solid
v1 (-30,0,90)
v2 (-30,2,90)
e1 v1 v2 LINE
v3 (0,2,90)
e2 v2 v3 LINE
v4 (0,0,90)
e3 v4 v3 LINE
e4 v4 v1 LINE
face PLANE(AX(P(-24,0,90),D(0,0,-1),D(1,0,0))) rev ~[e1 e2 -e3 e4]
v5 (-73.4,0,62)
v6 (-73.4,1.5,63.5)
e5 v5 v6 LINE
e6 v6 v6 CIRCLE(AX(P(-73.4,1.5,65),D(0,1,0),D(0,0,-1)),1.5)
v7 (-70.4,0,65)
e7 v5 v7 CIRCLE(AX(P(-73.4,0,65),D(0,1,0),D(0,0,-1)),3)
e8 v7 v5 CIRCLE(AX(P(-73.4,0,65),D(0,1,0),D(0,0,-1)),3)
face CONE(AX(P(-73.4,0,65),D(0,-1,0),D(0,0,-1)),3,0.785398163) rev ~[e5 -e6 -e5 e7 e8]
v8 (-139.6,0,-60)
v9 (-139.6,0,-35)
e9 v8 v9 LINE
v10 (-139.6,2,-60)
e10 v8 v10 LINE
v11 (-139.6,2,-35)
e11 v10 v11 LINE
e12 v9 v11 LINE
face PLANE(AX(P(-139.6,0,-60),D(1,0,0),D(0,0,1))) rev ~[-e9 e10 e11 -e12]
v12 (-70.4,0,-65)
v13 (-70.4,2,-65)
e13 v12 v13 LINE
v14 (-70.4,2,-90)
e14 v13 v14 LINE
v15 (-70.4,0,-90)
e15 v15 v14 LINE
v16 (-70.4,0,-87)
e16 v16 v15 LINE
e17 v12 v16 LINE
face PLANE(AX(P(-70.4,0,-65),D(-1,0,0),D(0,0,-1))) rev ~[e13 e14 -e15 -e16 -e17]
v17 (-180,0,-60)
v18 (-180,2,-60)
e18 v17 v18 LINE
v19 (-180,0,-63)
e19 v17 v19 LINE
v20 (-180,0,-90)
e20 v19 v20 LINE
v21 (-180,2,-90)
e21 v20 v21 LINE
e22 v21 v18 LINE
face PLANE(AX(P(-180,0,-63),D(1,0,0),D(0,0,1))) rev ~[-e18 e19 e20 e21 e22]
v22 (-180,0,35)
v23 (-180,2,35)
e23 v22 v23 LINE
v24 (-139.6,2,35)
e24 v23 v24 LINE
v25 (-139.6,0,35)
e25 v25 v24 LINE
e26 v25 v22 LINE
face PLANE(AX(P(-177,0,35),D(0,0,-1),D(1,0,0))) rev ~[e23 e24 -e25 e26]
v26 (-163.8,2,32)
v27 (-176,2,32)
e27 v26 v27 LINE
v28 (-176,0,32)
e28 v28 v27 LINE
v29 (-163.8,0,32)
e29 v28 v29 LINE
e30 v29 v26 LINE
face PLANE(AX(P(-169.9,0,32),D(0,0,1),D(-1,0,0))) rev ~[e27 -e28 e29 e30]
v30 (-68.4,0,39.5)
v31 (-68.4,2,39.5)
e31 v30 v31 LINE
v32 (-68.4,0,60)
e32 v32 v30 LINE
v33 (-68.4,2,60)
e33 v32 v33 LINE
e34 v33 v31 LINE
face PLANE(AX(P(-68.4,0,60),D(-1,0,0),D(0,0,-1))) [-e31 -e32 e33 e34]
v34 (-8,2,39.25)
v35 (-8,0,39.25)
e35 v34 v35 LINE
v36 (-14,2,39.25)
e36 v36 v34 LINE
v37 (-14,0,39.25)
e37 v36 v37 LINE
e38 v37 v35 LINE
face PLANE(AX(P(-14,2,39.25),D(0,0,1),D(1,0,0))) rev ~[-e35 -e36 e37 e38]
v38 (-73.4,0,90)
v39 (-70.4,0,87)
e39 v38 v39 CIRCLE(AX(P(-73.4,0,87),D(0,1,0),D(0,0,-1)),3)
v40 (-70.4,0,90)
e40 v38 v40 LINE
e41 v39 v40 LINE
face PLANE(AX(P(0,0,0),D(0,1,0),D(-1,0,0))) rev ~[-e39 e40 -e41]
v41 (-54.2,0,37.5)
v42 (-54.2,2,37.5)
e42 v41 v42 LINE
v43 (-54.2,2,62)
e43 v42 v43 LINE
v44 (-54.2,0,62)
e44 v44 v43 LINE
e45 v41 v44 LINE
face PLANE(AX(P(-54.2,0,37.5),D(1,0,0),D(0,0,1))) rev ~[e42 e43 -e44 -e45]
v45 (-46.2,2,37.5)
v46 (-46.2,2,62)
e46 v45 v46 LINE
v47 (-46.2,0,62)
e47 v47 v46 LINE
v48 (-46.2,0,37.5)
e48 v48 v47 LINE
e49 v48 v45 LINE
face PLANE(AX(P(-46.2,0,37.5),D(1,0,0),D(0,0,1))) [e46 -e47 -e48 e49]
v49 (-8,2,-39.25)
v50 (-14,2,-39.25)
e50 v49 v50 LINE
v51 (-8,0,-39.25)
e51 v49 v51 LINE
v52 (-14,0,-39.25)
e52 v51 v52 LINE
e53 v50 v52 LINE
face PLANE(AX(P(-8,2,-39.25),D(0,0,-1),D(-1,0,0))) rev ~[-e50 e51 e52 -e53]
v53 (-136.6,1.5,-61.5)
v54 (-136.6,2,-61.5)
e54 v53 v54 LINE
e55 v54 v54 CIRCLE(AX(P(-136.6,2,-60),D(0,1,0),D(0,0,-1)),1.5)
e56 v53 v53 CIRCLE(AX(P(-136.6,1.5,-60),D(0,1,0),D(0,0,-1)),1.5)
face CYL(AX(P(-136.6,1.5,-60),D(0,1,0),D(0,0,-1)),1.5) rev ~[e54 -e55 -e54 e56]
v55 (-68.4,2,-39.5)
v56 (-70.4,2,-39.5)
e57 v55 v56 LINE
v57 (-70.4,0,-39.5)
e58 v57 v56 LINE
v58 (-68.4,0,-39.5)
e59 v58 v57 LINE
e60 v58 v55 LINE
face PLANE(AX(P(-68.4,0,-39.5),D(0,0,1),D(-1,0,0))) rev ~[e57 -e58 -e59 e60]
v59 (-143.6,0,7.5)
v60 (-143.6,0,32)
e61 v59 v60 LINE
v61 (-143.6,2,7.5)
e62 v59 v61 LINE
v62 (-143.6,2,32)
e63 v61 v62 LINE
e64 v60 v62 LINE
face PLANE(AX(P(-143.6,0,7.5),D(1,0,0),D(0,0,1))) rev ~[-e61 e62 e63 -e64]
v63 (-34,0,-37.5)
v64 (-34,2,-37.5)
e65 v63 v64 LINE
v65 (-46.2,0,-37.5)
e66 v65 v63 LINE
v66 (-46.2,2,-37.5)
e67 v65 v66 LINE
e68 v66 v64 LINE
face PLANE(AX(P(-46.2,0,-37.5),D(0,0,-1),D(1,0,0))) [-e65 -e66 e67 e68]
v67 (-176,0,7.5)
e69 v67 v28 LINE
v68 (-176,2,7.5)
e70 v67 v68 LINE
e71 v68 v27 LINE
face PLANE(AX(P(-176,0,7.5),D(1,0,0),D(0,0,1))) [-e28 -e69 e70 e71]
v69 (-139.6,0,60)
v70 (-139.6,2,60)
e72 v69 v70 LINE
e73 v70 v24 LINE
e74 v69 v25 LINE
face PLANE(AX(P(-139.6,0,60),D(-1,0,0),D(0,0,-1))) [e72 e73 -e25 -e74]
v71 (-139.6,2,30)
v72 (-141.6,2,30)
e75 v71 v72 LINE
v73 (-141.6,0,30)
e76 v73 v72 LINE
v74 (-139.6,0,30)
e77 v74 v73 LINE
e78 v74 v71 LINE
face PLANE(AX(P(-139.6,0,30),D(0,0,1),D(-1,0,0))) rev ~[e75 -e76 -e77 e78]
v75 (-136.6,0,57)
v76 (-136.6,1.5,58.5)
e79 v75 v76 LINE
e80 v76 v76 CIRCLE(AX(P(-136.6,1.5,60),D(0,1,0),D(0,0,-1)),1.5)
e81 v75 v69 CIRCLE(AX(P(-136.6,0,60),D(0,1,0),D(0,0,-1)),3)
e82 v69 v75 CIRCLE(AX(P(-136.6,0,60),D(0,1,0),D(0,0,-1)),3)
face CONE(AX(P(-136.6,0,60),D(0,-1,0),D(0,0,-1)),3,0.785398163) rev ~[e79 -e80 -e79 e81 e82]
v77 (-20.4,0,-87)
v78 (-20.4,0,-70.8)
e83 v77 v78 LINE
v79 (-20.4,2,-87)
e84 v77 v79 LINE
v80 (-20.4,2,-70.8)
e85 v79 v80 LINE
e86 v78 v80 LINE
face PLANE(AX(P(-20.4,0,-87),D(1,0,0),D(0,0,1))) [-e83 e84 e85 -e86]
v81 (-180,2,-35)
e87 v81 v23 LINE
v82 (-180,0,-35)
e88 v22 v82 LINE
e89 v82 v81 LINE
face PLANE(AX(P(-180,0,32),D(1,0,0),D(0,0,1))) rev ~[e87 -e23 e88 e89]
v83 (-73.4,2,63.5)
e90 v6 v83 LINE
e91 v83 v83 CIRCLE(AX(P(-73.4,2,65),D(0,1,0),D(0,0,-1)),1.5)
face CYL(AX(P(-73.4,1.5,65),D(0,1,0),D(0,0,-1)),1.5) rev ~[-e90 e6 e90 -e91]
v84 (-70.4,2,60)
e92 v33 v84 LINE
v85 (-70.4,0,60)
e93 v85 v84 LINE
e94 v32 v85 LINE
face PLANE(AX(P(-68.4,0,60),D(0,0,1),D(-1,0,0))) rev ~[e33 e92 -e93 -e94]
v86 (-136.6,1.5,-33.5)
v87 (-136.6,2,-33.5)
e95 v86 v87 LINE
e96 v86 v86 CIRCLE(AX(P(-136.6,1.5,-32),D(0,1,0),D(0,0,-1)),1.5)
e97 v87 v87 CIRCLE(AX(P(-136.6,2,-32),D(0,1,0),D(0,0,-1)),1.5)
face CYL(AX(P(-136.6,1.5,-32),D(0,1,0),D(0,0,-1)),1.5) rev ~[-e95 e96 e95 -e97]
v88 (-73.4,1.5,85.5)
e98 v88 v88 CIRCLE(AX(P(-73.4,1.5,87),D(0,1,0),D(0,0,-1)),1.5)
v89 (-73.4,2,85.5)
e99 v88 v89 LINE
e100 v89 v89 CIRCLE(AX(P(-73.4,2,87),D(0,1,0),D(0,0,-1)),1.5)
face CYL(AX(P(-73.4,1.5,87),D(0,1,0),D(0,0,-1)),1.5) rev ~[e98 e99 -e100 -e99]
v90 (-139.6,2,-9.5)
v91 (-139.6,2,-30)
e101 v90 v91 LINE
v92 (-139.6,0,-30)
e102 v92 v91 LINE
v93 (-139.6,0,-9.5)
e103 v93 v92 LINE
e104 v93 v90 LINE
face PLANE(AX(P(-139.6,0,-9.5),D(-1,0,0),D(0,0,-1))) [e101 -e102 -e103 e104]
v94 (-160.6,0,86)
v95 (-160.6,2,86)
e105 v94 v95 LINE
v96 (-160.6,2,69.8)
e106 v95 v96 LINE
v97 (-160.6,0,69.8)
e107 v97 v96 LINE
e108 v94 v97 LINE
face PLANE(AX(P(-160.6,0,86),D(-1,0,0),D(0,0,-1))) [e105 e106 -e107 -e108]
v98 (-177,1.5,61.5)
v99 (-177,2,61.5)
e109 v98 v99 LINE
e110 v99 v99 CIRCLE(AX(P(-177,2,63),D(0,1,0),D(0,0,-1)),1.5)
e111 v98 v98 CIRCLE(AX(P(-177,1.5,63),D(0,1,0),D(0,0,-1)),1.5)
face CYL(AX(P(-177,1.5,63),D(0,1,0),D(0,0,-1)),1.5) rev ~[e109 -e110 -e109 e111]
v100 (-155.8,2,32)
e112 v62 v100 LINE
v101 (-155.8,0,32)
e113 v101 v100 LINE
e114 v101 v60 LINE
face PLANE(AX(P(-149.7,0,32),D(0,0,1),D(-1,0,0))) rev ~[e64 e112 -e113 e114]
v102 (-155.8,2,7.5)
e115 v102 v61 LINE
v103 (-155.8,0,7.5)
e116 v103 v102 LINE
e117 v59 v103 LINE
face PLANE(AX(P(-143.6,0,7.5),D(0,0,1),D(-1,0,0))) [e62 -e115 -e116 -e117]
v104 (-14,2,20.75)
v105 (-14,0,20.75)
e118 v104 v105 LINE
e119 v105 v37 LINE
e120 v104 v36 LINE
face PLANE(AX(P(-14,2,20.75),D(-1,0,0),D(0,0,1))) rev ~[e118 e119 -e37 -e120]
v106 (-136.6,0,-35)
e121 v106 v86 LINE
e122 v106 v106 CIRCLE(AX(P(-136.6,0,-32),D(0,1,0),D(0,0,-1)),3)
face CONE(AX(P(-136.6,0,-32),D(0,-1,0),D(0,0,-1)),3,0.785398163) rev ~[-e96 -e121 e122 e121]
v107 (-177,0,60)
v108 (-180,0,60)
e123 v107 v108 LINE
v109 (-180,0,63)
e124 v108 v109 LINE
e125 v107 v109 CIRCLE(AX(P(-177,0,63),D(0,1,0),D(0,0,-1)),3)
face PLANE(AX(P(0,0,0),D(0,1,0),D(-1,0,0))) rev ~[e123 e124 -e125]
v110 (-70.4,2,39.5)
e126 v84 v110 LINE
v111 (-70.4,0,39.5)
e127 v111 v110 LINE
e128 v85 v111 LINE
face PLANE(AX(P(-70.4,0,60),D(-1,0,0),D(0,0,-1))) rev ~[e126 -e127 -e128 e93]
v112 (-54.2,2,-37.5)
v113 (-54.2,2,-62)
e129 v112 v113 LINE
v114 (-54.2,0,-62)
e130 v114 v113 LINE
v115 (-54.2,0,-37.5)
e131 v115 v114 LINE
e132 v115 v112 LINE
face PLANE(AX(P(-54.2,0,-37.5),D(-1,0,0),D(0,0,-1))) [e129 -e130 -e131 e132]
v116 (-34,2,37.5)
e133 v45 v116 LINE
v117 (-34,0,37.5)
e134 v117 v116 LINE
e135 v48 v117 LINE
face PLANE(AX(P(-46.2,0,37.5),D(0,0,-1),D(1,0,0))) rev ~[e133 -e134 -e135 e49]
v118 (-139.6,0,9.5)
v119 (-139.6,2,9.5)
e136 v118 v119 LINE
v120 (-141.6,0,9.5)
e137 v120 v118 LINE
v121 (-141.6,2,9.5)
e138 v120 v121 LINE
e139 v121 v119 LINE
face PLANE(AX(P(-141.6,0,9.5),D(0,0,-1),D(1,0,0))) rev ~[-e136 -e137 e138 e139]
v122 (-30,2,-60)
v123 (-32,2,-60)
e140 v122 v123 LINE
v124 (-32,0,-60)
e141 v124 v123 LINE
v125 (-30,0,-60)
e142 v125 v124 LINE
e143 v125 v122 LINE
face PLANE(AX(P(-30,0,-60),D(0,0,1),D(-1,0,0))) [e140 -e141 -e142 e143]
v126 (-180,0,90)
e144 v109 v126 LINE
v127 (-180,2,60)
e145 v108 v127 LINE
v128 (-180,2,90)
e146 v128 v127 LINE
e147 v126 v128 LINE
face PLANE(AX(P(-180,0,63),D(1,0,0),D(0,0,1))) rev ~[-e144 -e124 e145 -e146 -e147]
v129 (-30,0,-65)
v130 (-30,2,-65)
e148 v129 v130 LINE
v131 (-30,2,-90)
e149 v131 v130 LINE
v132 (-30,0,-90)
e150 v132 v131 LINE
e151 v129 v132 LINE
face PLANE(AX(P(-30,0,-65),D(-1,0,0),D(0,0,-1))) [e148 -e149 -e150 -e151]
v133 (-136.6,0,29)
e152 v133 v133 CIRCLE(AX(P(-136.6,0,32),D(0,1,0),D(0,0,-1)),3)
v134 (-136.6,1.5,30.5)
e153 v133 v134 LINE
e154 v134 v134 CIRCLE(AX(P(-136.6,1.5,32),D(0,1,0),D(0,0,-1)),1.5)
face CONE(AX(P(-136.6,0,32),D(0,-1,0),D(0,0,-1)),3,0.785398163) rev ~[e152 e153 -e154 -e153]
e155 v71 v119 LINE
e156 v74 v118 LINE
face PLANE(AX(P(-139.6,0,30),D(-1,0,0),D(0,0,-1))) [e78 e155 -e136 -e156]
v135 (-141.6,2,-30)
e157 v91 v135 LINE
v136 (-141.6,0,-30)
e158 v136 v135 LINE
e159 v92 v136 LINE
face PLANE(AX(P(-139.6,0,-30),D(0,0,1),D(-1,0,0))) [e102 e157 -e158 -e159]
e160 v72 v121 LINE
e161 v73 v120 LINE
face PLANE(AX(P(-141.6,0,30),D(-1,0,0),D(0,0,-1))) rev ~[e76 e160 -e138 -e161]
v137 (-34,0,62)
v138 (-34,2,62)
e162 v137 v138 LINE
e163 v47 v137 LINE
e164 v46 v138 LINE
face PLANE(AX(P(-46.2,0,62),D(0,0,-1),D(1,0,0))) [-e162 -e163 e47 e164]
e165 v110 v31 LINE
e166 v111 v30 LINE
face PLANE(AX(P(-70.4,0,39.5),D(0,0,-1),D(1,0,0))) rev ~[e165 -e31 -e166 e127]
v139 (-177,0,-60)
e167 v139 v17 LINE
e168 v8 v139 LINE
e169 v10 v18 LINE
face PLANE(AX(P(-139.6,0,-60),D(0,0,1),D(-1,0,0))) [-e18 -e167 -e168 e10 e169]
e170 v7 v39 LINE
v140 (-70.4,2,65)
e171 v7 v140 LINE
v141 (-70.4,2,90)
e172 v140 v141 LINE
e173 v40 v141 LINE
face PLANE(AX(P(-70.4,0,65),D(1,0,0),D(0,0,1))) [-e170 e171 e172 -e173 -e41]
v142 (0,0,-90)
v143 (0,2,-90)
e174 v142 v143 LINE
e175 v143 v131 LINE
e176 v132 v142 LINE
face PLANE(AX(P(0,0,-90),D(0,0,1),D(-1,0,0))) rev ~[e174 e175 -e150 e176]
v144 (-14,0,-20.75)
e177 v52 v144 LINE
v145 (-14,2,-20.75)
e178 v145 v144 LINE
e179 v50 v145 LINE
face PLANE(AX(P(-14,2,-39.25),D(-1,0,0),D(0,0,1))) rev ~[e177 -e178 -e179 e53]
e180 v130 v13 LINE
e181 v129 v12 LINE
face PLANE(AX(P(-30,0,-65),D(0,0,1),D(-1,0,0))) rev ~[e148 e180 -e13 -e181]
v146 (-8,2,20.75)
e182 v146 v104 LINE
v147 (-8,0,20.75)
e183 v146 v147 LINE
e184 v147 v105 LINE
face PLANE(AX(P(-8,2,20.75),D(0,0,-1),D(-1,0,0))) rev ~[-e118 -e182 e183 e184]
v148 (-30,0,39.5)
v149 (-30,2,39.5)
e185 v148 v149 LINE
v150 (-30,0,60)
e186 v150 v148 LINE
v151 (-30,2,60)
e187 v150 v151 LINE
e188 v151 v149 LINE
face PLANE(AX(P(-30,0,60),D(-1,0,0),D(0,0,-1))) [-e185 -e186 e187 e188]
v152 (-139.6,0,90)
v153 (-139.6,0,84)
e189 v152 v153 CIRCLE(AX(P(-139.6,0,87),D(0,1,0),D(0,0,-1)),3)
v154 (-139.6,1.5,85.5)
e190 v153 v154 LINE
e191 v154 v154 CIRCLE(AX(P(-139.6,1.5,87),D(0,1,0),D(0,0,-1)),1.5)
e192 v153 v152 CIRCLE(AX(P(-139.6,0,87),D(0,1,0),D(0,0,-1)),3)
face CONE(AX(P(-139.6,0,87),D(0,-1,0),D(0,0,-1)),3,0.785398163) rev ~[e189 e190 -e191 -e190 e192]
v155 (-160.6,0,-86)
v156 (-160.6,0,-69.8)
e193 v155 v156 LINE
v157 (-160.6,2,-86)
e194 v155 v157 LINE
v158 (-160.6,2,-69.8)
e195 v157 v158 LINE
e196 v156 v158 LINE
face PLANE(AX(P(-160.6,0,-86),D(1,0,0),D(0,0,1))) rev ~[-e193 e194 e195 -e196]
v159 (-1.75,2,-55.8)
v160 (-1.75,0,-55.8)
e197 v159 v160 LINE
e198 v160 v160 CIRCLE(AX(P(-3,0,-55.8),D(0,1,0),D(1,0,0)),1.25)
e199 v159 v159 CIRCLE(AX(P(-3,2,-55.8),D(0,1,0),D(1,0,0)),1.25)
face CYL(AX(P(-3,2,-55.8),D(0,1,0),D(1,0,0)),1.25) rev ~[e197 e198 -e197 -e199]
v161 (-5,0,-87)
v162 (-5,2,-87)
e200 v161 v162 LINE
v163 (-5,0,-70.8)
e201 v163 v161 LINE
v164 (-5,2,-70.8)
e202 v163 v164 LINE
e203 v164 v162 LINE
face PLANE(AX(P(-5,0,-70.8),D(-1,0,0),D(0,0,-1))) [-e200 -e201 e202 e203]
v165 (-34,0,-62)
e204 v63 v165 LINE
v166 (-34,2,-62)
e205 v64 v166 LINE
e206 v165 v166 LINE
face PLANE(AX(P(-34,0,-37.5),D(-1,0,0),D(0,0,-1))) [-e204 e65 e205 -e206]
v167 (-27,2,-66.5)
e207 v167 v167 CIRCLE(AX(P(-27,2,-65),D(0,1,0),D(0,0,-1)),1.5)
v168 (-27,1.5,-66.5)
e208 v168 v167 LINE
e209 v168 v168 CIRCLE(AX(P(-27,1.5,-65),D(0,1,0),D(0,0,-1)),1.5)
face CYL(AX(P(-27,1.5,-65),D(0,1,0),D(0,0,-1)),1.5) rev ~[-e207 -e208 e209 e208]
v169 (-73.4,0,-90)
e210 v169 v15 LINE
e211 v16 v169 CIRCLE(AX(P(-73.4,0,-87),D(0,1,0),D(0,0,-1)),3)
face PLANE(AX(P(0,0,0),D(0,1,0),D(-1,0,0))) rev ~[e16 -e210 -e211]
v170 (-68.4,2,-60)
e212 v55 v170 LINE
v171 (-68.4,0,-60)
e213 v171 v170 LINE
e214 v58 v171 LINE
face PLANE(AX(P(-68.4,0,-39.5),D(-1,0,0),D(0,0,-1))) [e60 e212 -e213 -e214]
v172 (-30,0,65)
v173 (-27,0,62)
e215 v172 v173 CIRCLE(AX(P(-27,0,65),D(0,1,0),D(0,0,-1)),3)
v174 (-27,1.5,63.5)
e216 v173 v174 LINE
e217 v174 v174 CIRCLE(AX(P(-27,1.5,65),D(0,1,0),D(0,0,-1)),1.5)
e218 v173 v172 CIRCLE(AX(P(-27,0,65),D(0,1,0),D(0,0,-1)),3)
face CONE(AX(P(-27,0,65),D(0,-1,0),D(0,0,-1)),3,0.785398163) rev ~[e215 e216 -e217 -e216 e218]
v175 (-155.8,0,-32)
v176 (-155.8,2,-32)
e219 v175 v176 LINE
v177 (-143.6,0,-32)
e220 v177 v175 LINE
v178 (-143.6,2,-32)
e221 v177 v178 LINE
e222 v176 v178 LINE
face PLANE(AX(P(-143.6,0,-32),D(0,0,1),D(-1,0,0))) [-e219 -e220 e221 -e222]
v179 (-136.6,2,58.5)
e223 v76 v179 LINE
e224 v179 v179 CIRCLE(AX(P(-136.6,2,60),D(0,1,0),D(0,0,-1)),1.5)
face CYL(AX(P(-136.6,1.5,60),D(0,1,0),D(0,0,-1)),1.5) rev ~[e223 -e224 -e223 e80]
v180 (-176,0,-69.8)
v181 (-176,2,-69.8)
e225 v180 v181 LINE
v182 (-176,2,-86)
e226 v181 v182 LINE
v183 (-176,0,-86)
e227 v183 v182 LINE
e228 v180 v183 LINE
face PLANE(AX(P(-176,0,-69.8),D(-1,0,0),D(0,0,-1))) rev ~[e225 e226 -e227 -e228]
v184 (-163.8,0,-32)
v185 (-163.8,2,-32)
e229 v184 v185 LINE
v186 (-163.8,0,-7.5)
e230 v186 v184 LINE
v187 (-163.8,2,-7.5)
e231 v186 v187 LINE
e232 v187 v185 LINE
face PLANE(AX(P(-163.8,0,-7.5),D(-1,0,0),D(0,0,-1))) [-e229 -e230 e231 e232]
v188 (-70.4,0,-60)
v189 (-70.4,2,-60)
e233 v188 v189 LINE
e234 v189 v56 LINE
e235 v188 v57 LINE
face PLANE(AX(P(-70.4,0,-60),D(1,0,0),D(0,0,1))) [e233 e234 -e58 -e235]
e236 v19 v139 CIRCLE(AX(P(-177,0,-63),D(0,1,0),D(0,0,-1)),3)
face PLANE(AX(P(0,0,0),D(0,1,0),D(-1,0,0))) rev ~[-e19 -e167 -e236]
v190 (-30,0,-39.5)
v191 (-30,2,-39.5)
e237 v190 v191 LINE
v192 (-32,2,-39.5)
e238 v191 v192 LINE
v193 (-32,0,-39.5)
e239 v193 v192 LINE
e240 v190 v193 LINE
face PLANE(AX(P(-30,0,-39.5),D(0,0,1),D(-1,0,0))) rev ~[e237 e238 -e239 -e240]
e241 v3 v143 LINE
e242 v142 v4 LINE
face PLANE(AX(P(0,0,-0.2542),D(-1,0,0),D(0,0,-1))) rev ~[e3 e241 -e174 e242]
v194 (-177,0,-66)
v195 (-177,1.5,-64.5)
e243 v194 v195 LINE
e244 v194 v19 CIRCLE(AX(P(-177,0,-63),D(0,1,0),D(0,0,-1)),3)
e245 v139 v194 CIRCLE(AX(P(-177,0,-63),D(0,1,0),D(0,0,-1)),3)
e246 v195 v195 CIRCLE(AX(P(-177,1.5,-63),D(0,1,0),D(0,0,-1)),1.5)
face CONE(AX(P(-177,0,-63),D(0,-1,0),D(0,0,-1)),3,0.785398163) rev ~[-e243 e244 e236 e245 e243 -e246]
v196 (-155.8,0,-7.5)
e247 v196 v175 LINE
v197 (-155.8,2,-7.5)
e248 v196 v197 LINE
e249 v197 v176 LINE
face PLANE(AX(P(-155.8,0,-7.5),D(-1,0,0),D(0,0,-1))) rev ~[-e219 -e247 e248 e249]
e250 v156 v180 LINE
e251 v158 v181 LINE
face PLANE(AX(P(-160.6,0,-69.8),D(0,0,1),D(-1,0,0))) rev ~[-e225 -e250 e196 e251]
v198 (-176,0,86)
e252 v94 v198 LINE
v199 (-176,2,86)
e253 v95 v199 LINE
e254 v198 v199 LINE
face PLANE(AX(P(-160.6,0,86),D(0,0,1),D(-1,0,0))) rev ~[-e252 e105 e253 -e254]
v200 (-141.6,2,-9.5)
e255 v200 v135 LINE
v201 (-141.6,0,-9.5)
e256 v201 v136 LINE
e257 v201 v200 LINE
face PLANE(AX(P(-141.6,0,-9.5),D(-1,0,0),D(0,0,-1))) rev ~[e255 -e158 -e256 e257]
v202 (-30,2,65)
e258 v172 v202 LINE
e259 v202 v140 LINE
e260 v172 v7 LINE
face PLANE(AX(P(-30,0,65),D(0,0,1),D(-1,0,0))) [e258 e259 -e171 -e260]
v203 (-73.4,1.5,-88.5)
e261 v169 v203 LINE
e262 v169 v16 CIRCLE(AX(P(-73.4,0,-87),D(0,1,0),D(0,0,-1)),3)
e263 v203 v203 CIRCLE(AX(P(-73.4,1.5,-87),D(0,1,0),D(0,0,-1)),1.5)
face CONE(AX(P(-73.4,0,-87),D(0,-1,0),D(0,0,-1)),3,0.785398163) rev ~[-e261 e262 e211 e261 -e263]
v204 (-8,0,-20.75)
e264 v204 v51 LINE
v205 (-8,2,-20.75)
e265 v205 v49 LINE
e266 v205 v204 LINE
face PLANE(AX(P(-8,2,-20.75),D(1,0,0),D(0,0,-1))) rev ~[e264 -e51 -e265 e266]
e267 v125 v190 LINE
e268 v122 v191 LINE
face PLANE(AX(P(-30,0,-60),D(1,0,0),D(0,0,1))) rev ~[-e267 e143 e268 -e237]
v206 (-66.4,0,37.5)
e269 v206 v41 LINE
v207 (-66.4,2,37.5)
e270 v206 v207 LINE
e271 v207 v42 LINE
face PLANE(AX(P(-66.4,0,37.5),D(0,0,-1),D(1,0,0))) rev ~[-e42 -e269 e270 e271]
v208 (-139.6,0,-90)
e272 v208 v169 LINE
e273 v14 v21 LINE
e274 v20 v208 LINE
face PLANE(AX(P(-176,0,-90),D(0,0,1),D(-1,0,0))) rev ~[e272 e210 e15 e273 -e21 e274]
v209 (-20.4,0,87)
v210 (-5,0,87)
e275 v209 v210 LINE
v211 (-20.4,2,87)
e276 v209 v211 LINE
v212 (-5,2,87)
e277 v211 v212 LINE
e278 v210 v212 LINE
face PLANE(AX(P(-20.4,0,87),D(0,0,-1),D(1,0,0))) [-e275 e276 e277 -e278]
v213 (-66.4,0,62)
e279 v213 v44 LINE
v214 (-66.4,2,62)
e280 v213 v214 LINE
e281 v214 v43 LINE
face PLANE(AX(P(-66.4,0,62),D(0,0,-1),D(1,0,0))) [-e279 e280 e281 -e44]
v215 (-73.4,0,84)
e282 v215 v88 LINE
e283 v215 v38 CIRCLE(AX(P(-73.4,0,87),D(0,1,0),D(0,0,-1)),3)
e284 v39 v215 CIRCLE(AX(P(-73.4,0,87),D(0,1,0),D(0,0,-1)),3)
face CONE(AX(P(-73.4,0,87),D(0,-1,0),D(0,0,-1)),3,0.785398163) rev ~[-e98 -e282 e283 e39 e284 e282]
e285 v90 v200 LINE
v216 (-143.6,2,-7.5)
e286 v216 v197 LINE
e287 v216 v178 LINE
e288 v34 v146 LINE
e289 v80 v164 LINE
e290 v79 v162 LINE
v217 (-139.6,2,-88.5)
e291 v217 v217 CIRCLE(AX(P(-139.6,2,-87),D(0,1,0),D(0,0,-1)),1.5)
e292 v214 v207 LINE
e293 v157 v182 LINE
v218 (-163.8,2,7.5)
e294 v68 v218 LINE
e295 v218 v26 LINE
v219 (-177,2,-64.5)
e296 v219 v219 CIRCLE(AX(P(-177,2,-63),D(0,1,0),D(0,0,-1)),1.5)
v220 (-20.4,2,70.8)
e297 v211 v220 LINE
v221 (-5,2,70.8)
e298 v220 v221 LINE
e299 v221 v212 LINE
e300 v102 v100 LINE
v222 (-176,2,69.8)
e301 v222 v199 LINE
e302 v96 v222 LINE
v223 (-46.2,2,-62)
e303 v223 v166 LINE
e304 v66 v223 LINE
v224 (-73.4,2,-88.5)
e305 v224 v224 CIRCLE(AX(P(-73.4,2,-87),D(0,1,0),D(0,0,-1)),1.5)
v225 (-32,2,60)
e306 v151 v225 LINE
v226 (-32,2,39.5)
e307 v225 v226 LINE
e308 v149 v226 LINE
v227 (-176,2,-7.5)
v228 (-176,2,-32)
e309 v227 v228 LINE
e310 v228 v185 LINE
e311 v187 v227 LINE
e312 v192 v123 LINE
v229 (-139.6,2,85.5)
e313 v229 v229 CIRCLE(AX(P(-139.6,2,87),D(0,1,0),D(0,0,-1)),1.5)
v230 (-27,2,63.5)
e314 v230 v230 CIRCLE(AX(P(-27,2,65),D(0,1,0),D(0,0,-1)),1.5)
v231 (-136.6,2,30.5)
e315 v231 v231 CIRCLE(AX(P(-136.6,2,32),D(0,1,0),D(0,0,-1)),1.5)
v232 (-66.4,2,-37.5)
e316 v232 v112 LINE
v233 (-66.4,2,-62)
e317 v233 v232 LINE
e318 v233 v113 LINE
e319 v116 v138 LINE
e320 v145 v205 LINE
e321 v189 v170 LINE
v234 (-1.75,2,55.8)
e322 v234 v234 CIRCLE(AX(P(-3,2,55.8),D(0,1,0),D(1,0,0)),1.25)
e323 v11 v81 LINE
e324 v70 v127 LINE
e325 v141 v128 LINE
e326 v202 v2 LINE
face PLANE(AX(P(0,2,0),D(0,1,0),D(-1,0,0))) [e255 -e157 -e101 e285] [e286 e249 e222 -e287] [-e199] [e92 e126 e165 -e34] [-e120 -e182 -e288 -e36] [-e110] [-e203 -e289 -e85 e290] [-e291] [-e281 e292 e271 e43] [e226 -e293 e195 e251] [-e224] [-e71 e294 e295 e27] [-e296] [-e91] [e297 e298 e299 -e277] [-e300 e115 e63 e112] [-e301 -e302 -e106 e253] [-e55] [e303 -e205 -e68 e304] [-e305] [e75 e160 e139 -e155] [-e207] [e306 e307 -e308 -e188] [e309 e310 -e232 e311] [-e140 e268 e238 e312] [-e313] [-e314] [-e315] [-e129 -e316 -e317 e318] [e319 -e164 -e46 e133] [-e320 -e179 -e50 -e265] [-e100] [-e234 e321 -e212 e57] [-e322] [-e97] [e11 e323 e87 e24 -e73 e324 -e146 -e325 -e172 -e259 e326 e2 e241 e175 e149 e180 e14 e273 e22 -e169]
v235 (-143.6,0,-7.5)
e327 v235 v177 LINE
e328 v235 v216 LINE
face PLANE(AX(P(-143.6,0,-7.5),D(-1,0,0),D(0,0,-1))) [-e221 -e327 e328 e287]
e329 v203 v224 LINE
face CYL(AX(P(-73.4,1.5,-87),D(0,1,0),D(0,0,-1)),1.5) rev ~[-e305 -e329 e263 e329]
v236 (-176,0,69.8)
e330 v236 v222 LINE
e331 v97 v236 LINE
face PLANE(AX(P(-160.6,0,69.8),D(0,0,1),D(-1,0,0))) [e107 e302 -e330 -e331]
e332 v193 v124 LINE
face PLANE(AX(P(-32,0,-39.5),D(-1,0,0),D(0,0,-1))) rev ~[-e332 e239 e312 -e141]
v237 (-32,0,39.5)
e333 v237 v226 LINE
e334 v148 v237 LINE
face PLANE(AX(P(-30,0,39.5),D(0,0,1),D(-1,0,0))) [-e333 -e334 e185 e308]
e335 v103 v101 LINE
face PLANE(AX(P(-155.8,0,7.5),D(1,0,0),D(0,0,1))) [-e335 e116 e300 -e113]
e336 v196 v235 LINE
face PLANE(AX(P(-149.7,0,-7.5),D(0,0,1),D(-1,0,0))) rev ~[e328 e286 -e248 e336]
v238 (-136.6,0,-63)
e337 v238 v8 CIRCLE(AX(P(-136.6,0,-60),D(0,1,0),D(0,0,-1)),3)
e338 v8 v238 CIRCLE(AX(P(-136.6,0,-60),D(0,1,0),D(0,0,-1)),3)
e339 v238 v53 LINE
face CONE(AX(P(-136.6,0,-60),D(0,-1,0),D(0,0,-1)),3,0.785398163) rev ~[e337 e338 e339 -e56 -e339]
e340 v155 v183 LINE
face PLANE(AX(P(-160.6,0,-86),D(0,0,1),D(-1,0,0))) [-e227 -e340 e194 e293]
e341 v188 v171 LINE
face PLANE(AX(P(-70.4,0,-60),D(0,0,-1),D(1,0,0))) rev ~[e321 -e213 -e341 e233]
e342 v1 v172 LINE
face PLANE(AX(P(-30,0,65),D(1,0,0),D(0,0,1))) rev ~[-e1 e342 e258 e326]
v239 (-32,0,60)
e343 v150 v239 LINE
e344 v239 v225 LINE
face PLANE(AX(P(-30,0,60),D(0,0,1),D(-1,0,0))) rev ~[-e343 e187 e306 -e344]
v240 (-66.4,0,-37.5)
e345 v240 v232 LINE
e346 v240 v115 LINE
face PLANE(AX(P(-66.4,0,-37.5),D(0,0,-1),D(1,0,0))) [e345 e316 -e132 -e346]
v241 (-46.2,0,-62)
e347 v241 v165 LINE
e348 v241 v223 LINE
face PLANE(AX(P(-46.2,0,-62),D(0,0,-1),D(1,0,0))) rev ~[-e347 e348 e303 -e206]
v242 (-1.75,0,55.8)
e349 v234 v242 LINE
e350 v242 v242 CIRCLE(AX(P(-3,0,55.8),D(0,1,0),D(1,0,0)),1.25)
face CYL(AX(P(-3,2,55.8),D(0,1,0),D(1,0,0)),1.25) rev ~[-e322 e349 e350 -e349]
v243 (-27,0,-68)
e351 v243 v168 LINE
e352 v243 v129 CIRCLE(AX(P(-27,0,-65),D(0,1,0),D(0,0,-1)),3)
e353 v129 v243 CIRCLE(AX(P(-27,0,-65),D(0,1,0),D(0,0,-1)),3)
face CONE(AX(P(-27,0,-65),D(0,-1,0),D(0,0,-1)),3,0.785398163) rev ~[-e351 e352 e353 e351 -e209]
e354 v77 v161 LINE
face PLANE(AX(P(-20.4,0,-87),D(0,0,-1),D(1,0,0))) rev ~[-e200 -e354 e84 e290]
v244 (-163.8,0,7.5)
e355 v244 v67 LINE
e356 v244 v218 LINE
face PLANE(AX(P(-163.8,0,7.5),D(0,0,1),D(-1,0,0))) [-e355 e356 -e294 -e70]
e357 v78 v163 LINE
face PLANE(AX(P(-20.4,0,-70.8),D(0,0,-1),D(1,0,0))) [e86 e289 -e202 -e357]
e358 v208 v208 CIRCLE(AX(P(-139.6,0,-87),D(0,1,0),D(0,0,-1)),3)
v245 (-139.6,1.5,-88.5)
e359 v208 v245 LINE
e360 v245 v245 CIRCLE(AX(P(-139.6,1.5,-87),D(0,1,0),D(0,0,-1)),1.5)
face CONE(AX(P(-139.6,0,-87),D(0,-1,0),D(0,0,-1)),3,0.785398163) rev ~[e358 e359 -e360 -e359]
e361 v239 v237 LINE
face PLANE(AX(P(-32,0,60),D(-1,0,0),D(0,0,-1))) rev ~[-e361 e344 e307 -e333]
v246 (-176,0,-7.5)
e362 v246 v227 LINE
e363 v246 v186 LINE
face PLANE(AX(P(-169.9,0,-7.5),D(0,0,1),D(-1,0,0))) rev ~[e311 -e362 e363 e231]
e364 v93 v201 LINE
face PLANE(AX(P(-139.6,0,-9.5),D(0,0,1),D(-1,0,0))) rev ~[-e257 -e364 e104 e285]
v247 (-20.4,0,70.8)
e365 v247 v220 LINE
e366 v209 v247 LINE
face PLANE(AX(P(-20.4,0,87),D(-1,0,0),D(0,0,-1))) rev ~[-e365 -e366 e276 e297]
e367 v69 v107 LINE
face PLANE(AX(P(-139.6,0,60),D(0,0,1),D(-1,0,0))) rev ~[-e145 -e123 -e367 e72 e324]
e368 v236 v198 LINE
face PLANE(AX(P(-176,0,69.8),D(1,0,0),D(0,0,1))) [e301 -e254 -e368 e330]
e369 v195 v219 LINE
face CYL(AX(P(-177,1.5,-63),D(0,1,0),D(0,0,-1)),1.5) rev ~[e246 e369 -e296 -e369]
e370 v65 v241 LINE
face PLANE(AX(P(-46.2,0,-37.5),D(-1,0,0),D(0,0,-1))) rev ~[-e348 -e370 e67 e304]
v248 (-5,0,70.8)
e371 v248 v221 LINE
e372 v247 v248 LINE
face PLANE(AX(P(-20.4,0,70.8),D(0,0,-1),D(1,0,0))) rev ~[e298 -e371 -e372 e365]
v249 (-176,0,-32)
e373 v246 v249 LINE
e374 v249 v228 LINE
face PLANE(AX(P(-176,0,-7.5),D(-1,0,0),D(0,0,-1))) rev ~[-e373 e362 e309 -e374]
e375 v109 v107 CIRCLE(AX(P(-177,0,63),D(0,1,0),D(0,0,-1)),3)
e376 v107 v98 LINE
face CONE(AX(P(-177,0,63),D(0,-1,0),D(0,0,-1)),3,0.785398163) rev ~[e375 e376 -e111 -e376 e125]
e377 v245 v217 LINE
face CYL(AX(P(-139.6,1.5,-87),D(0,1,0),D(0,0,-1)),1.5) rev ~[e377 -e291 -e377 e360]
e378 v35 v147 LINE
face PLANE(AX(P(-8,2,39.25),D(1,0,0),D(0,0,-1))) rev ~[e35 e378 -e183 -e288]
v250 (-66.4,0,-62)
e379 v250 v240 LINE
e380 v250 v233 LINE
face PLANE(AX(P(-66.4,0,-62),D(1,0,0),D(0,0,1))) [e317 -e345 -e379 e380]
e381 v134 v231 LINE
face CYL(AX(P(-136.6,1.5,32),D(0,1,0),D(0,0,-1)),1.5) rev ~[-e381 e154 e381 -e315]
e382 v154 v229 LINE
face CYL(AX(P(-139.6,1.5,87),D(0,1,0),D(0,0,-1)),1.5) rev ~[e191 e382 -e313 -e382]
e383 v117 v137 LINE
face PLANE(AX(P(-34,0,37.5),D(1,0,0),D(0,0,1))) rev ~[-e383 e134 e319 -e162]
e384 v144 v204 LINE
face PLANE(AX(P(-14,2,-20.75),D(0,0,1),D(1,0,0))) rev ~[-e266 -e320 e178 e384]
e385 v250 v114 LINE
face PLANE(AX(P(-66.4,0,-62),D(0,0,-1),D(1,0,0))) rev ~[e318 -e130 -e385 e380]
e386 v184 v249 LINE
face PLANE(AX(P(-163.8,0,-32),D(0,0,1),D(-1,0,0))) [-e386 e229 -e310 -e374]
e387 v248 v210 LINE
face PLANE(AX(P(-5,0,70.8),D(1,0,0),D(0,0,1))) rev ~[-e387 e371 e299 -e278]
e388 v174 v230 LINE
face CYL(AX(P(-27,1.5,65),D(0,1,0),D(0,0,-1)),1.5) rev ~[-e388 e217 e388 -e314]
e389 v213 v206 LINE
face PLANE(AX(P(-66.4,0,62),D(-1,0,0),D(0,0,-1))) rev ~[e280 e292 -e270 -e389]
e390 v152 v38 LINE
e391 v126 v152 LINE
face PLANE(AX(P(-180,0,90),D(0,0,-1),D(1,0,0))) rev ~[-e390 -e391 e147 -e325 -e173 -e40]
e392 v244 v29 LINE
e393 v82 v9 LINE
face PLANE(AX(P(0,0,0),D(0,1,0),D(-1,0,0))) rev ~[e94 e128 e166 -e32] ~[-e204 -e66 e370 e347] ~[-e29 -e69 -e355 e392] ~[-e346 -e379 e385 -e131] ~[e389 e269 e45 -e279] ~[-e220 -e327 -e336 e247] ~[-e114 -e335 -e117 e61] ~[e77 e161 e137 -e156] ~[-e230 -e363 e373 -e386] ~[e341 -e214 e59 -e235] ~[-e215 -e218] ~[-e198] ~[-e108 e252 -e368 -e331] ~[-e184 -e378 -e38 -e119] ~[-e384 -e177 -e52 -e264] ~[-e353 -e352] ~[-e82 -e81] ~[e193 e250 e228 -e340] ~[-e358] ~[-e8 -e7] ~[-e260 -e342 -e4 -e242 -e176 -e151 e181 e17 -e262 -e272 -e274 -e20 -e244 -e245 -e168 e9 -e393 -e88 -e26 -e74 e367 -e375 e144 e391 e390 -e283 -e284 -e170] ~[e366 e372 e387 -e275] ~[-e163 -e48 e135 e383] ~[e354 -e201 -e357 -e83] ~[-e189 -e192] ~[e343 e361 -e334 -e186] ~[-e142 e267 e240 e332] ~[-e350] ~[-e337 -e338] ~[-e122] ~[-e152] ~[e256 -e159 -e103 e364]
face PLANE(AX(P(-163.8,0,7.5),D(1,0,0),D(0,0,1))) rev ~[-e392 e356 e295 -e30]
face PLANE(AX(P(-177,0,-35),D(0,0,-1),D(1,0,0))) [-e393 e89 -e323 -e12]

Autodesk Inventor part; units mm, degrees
ref_plane "YZ Plane" through (0, 0, 0) normal (1, 0, 0) x (0, 1, 0)
ref_plane "XZ Plane" through (0, 0, 0) normal (0, 1, 0) x (-1, 0, 0)
ref_plane "XY Plane" through (0, 0, 0) normal (0, 0, 1) x (1, 0, 0)
sketch "Sketch1" plane through (0, 0, 0) normal (0, 1, 0) x (-1, 0, 0)
  line L0 (180, 90) -> (0, 90)
  line L1 (0, 90) -> (0, -90)
  line L2 (0, -90) -> (180, -90)
  line L3 (180, -90) -> (180, 90)
  line L4 (0, -0.2542) -> (0, 0)
  line L5 (0, 0) -> (0, 6.4289)
  line L6 (0, 0) -> (28.373, 0)
  line L7 (177, 0) -> (135, 0)
  line L8 (135, 0) -> (135, -7.5)
  line L9 (135, -7.5) -> (177, -7.5)
  line L10 (177, -7.5) -> (177, 0)
  line L11 (177, 0) -> (180, 0)
  line L12 (180, 0) -> (180, -35)
  line L13 (180, -35) -> (177, -35)
  line L14 (177, -35) -> (177, 0)
  line L15 (180, -35) -> (136.6, -35)
  line L16 (136.6, -35) -> (136.6, -32)
  line L17 (136.6, -32) -> (180, -32)
  line L18 (180, -32) -> (180, -35)
  line L19 (177, -7.5) -> (176, -7.5)
  line L20 (176, -7.5) -> (176, -32)
  line L21 (176, -32) -> (177, -32)
  line L22 (177, -32) -> (177, -7.5)
  line L23 (176, -7.5) -> (163.8, -7.5)
  line L24 (163.8, -7.5) -> (163.8, -32)
  line L25 (163.8, -32) -> (176, -32)
  line L26 (176, -32) -> (176, -7.5)
  line L27 (163.8, -7.5) -> (159.8, -7.5)
  line L28 (159.8, -7.5) -> (159.8, -32)
  line L29 (159.8, -32) -> (163.8, -32)
  line L30 (163.8, -32) -> (163.8, -7.5)
  line L31 (159.8, -7.5) -> (155.8, -7.5)
  line L32 (155.8, -7.5) -> (155.8, -32)
  line L33 (155.8, -32) -> (159.8, -32)
  line L34 (159.8, -32) -> (159.8, -7.5)
  line L35 (155.8, -7.5) -> (143.6, -7.5)
  line L36 (143.6, -7.5) -> (143.6, -32)
  line L37 (143.6, -32) -> (155.8, -32)
  line L38 (155.8, -32) -> (155.8, -7.5)
  line L39 (143.6, -7.5) -> (139.6, -7.5)
  line L40 (139.6, -7.5) -> (139.6, -32)
  line L41 (139.6, -32) -> (143.6, -32)
  line L42 (143.6, -32) -> (143.6, -7.5)
  line L43 (136.6, -35) -> (139.6, -35)
  line L44 (139.6, -35) -> (139.6, -32)
  line L45 (139.6, -32) -> (136.6, -32)
  line L46 (136.6, -32) -> (136.6, -35)
  line L47 (139.6, -35) -> (136.6, -35)
  line L48 (136.6, -35) -> (136.6, -60)
  line L49 (136.6, -60) -> (139.6, -60)
  line L50 (139.6, -60) -> (139.6, -35)
  line L51 (136.6, -60) -> (180, -60)
  line L52 (180, -60) -> (180, -63)
  line L53 (180, -63) -> (136.6, -63)
  line L54 (136.6, -63) -> (136.6, -60)
  line L55 (180, -63) -> (176, -63)
  line L56 (176, -63) -> (176, -90)
  line L57 (176, -90) -> (180, -90)
  line L58 (180, -90) -> (180, -63)
  line L59 (163.8, -7.5) -> (169.9, -7.5)
  line L60 (169.9, -7.5) -> (169.9, -32)
  line L61 (169.9, -32) -> (163.8, -32)
  line L62 (163.8, -32) -> (163.8, -7.5)
  line L63 (143.6, -7.5) -> (149.7, -7.5)
  line L64 (149.7, -7.5) -> (149.7, -32)
  line L65 (149.7, -32) -> (143.6, -32)
  line L66 (143.6, -32) -> (143.6, -7.5)
  line L67 (176, -90) -> (73.4, -90)
  line L68 (73.4, -90) -> (73.4, -86)
  line L69 (73.4, -86) -> (176, -86)
  line L70 (176, -86) -> (176, -90)
  line L71 (176, -86) -> (160.6, -86)
  line L72 (160.6, -86) -> (160.6, -69.8)
  line L73 (160.6, -69.8) -> (176, -69.8)
  line L74 (176, -69.8) -> (176, -86)
  line L75 (70.4, -90) -> (30, -90)
  line L76 (27, -90) -> (0, -90)
  line L77 (0, -90) -> (0, -87)
  line L78 (70.4, -90) -> (73.4, -90)
  line L79 (0, -90) -> (30, -90)
  line L80 (30, -90) -> (30, -87)
  line L81 (30, -87) -> (0, -87)
  line L82 (0, -87) -> (0, -90)
  line L83 (30, -87) -> (27, -87)
  line L84 (27, -87) -> (27, -65)
  line L85 (27, -65) -> (30, -65)
  line L86 (30, -65) -> (30, -87)
  line L87 (27, -65) -> (73.4, -65)
  line L88 (73.4, -65) -> (73.4, -62)
  line L89 (73.4, -62) -> (27, -62)
  line L90 (27, -62) -> (27, -65)
  line L91 (73.4, -62) -> (70.4, -62)
  line L92 (70.4, -62) -> (70.4, -90)
  line L93 (70.4, -90) -> (73.4, -90)
  line L94 (73.4, -90) -> (73.4, -62)
  line L95 (30, -90) -> (24, -90)
  line L96 (24, -90) -> (24, -84)
  line L97 (24, -84) -> (30, -84)
  line L98 (30, -84) -> (30, -90)
  line L99 (73.4, -62) -> (66.4, -62)
  line L100 (66.4, -62) -> (66.4, -37.5)
  line L101 (66.4, -37.5) -> (73.4, -37.5)
  line L102 (73.4, -37.5) -> (73.4, -62)
  line L103 (66.4, -37.5) -> (54.2, -37.5)
  line L104 (54.2, -37.5) -> (54.2, -62)
  line L105 (54.2, -62) -> (66.4, -62)
  line L106 (66.4, -62) -> (66.4, -37.5)
  line L107 (54.2, -37.5) -> (50.2, -37.5)
  line L108 (50.2, -37.5) -> (50.2, -62)
  line L109 (50.2, -62) -> (54.2, -62)
  line L110 (54.2, -62) -> (54.2, -37.5)
  line L111 (50.2, -37.5) -> (46.2, -37.5)
  line L112 (46.2, -37.5) -> (46.2, -62)
  line L113 (46.2, -62) -> (50.2, -62)
  line L114 (50.2, -62) -> (50.2, -37.5)
  line L115 (46.2, -37.5) -> (34, -37.5)
  line L116 (34, -37.5) -> (34, -62)
  line L117 (34, -62) -> (46.2, -62)
  line L118 (46.2, -62) -> (46.2, -37.5)
  line L119 (34, -37.5) -> (27, -37.5)
  line L120 (27, -37.5) -> (27, -62)
  line L121 (27, -62) -> (34, -62)
  line L122 (34, -62) -> (34, -37.5)
  line L123 (5, -87) -> (20.4, -87)
  line L124 (20.4, -87) -> (20.4, -70.8)
  line L125 (20.4, -70.8) -> (5, -70.8)
  line L126 (5, -70.8) -> (5, -87)
  line L127 (0, 90) -> (180, 90)
  line L128 (135, 7.5) -> (177, 7.5)
  line L129 (180, 35) -> (177, 35)
  line L130 (180, 35) -> (136.6, 35)
  line L131 (136.6, 35) -> (136.6, 32)
  line L132 (136.6, 32) -> (180, 32)
  line L133 (180, 32) -> (180, 35)
  line L134 (177, 7.5) -> (176, 7.5)
  line L135 (176, 7.5) -> (176, 32)
  line L136 (176, 32) -> (177, 32)
  line L137 (177, 32) -> (177, 7.5)
  line L138 (176, 7.5) -> (163.8, 7.5)
  line L139 (163.8, 7.5) -> (163.8, 32)
  line L140 (163.8, 32) -> (176, 32)
  line L141 (176, 32) -> (176, 7.5)
  line L142 (163.8, 7.5) -> (159.8, 7.5)
  line L143 (159.8, 7.5) -> (159.8, 32)
  line L144 (159.8, 32) -> (163.8, 32)
  line L145 (163.8, 32) -> (163.8, 7.5)
  line L146 (159.8, 7.5) -> (155.8, 7.5)
  line L147 (155.8, 7.5) -> (155.8, 32)
  line L148 (155.8, 32) -> (159.8, 32)
  line L149 (159.8, 32) -> (159.8, 7.5)
  line L150 (155.8, 7.5) -> (143.6, 7.5)
  line L151 (143.6, 7.5) -> (143.6, 32)
  line L152 (143.6, 32) -> (155.8, 32)
  line L153 (155.8, 32) -> (155.8, 7.5)
  line L154 (143.6, 7.5) -> (139.6, 7.5)
  line L155 (139.6, 7.5) -> (139.6, 32)
  line L156 (139.6, 32) -> (143.6, 32)
  line L157 (143.6, 32) -> (143.6, 7.5)
  line L158 (136.6, 35) -> (139.6, 35)
  line L159 (139.6, 35) -> (139.6, 32)
  line L160 (139.6, 32) -> (136.6, 32)
  line L161 (136.6, 32) -> (136.6, 35)
  line L162 (139.6, 35) -> (136.6, 35)
  line L163 (136.6, 35) -> (136.6, 60)
  line L164 (136.6, 60) -> (139.6, 60)
  line L165 (139.6, 60) -> (139.6, 35)
  line L166 (136.6, 60) -> (180, 60)
  line L167 (180, 60) -> (180, 63)
  line L168 (180, 63) -> (136.6, 63)
  line L169 (136.6, 63) -> (136.6, 60)
  line L170 (180, 63) -> (176, 63)
  line L171 (176, 63) -> (176, 90)
  line L172 (176, 90) -> (180, 90)
  line L173 (180, 90) -> (180, 63)
  line L174 (163.8, 7.5) -> (169.9, 7.5)
  line L175 (169.9, 7.5) -> (169.9, 32)
  line L176 (169.9, 32) -> (163.8, 32)
  line L177 (163.8, 32) -> (163.8, 7.5)
  line L178 (143.6, 7.5) -> (149.7, 7.5)
  line L179 (149.7, 7.5) -> (149.7, 32)
  line L180 (149.7, 32) -> (143.6, 32)
  line L181 (143.6, 32) -> (143.6, 7.5)
  line L182 (176, 90) -> (73.4, 90)
  line L183 (73.4, 90) -> (73.4, 86)
  line L184 (73.4, 86) -> (176, 86)
  line L185 (176, 86) -> (176, 90)
  line L186 (176, 86) -> (160.6, 86)
  line L187 (160.6, 86) -> (160.6, 69.8)
  line L188 (160.6, 69.8) -> (176, 69.8)
  line L189 (176, 69.8) -> (176, 86)
  line L190 (70.4, 90) -> (30, 90)
  line L191 (27, 90) -> (0, 90)
  line L192 (0, 90) -> (0, 87)
  line L193 (70.4, 90) -> (73.4, 90)
  line L194 (0, 90) -> (30, 90)
  line L195 (30, 90) -> (30, 87)
  line L196 (30, 87) -> (0, 87)
  line L197 (0, 87) -> (0, 90)
  line L198 (30, 87) -> (27, 87)
  line L199 (27, 87) -> (27, 65)
  line L200 (27, 65) -> (30, 65)
  line L201 (30, 65) -> (30, 87)
  line L202 (27, 65) -> (73.4, 65)
  line L203 (73.4, 65) -> (73.4, 62)
  line L204 (73.4, 62) -> (27, 62)
  line L205 (27, 62) -> (27, 65)
  line L206 (73.4, 62) -> (70.4, 62)
  line L207 (70.4, 62) -> (70.4, 90)
  line L208 (70.4, 90) -> (73.4, 90)
  line L209 (73.4, 90) -> (73.4, 62)
  line L210 (30, 90) -> (24, 90)
  line L211 (24, 90) -> (24, 84)
  line L212 (24, 84) -> (30, 84)
  line L213 (30, 84) -> (30, 90)
  line L214 (73.4, 62) -> (66.4, 62)
  line L215 (66.4, 62) -> (66.4, 37.5)
  line L216 (66.4, 37.5) -> (73.4, 37.5)
  line L217 (73.4, 37.5) -> (73.4, 62)
  line L218 (66.4, 37.5) -> (54.2, 37.5)
  line L219 (54.2, 37.5) -> (54.2, 62)
  line L220 (54.2, 62) -> (66.4, 62)
  line L221 (66.4, 62) -> (66.4, 37.5)
  line L222 (54.2, 37.5) -> (50.2, 37.5)
  line L223 (50.2, 37.5) -> (50.2, 62)
  line L224 (50.2, 62) -> (54.2, 62)
  line L225 (54.2, 62) -> (54.2, 37.5)
  line L226 (50.2, 37.5) -> (46.2, 37.5)
  line L227 (46.2, 37.5) -> (46.2, 62)
  line L228 (46.2, 62) -> (50.2, 62)
  line L229 (50.2, 62) -> (50.2, 37.5)
  line L230 (46.2, 37.5) -> (34, 37.5)
  line L231 (34, 37.5) -> (34, 62)
  line L232 (34, 62) -> (46.2, 62)
  line L233 (46.2, 62) -> (46.2, 37.5)
  line L234 (34, 37.5) -> (27, 37.5)
  line L235 (27, 37.5) -> (27, 62)
  line L236 (27, 62) -> (34, 62)
  line L237 (34, 62) -> (34, 37.5)
  line L238 (5, 87) -> (20.4, 87)
  line L239 (20.4, 87) -> (20.4, 70.8)
  line L240 (20.4, 70.8) -> (5, 70.8)
  line L241 (5, 70.8) -> (5, 87)
  line L242 (177, 7.5) -> (135, 7.5)
  line L243 (135, 7.5) -> (135, 0)
  line L244 (135, 0) -> (177, 0)
  line L245 (177, 0) -> (177, 7.5)
  point P0 (177, -3.75)
  point P1 (177, 3.75)
  point P2 (70.4, 65)
  point P3 (70.4, -65)
  dimension "d2" = 180
  dimension "d3" = 180
  dimension "d4" = 90
  dimension "d5" = 42
  dimension "d6" = 7.5
  dimension "d7" = 3
  dimension "d8" = 35
  dimension "d9" = 3
  dimension "d10" = 1
  dimension "d11" = 12.2
  dimension "d12" = 4
  dimension "d13" = 4
  dimension "d14" = 12.2
  dimension "d15" = 4
  dimension "d16" = 25
  dimension "d17" = 3
  dimension "d18" = 3
  dimension "d19" = 4
  dimension "d20" = 102.6
  dimension "d22" = 15.4
  dimension "d23" = 16.2
  dimension "d42" = 30
  dimension "d43" = 3
  dimension "d44" = 22
  dimension "d46" = 3
  dimension "d47" = 3
  dimension "d48" = 6
  dimension "d49" = 6
  dimension "d50" = 7
  dimension "d51" = 24.5
  dimension "d52" = 12.2
  dimension "d53" = 4
  dimension "d54" = 4
  dimension "d55" = 12.2
  dimension "d56" = 7
  dimension "d57" = 3
  dimension "d58" = 4
  dimension "d59" = 15.4
  dimension "d60" = 16.2
  dimension "d61" = 5
extrude "Extrusion1" add sketch "Sketch1" along normal blind 2 contours L3 L168 L171 L0 | L171 L184 L183 L0 | L3 L166 L164 L169 L168 | L183 L209 L202 L207 L0 | L168 L169 L163 L131 L132 L155 L128 L243 L8 L9 L40 L17 L16 L48 L54 L53 L56 L73 L72 L69 L94 L88 L102 L101 L103 L107 L111 L115 L119 L120 L90 L84 L97 L96 L81 L124 L125 L126 L1 L196 L241 L240 L239 L211 L212 L199 L205 L235 L234 L230 L226 L222 L218 L216 L217 L203 L209 L184 L187 L188 L171 | L3 L132 L159 L130 L129 | L165 L130 L163 L164 | L195 L196 L211 L0 | L207 L204 L205 L200 L202 | L202 L203 L204 L207 | L3 L11 L245 L137 L132 | L159 L132 L131 L130 | L201 L212 L199 L196 | L200 L199 L212 L201 | L204 L217 L216 L215 | L3 L17 L14 L10 L11 | L137 L128 L135 L132 | L132 L151 L128 L155 | L211 L196 L1 L0 | L199 L212 L211 L196 | L3 L13 L14 L17 | L10 L9 L8 L7 | L7 L243 L128 L245 | L204 L231 L234 L235 | L219 L222 L223 L204 | L17 L20 L9 L14 | L14 L15 L44 L17 | L223 L226 L227 L204 | L3 L53 L54 L49 L51 | L139 L128 L143 L132 | L132 L143 L128 L147 | L3 L2 L56 L53 | L49 L48 L15 L50 | L15 L16 L17 L44 | L9 L36 L17 L40 | L17 L28 L9 L24 | L2 L68 L69 L56 | L17 L32 L9 L28 | L81 L96 L2 L1 | L2 L92 L87 L94 L68 | L96 L81 L80 L2 | L92 L89 L88 L87 | L87 L85 L90 L89 L92 | L96 L97 L84 L81 | L81 L84 L97 L86 | L86 L97 L84 L85 | L89 L100 L101 L102 | L120 L119 L116 L89 | L89 L108 L107 L104 | L89 L112 L111 L108
sketch "Sketch2" plane through (0, 0, 0) normal (0, -1, 0) x (1, 0, 0)
  line L0 (-143.6, -7.5) -> (-155.8, -7.5) projected
  line L1 (-143.6, -7.5) -> (-141.6, -7.5)
  line L2 (-141.6, -7.5) -> (-141.6, -32)
  line L3 (-141.6, -32) -> (-143.6, -32)
  line L4 (-143.6, -32) -> (-143.6, -7.5)
  line L5 (-143.6, 7.5) -> (-143.6, 32) projected
  line L6 (-143.6, 32) -> (-141.6, 32)
  line L7 (-141.6, 32) -> (-141.6, 7.5)
  line L8 (-141.6, 7.5) -> (-143.6, 7.5)
  line L9 (-143.6, 7.5) -> (-143.6, 32)
  line L10 (-141.6, 32) -> (-139.6, 32)
  line L11 (-139.6, 32) -> (-139.6, 7.5)
  line L12 (-139.6, 7.5) -> (-141.6, 7.5)
  line L13 (-141.6, 7.5) -> (-141.6, 32)
  line L14 (-141.6, -7.5) -> (-139.6, -7.5)
  line L15 (-139.6, -7.5) -> (-139.6, -32)
  line L16 (-139.6, -32) -> (-141.6, -32)
  line L17 (-141.6, -32) -> (-141.6, -7.5)
  line L18 (-66.4, 62) -> (-66.4, 37.5) projected
  line L19 (-66.4, 62) -> (-68.4, 62)
  line L20 (-68.4, 62) -> (-68.4, 37.5)
  line L21 (-68.4, 37.5) -> (-66.4, 37.5)
  line L22 (-66.4, 37.5) -> (-66.4, 62)
  line L23 (-34, 37.5) -> (-34, 62) projected
  line L24 (-34, 62) -> (-32, 62)
  line L25 (-32, 62) -> (-32, 37.5)
  line L26 (-32, 37.5) -> (-34, 37.5)
  line L27 (-34, 37.5) -> (-34, 62)
  line L28 (-32, 62) -> (-30, 62)
  line L29 (-30, 62) -> (-30, 37.5)
  line L30 (-30, 37.5) -> (-32, 37.5)
  line L31 (-32, 37.5) -> (-32, 62)
  line L32 (-68.4, 62) -> (-70.4, 62)
  line L33 (-70.4, 62) -> (-70.4, 37.5)
  line L34 (-70.4, 37.5) -> (-68.4, 37.5)
  line L35 (-68.4, 37.5) -> (-68.4, 62)
  line L36 (-34, -37.5) -> (-46.2, -37.5) projected
  line L37 (-34, -37.5) -> (-32, -37.5)
  line L38 (-32, -37.5) -> (-32, -62)
  line L39 (-32, -62) -> (-34, -62)
  line L40 (-34, -62) -> (-34, -37.5)
  line L41 (-32, -62) -> (-30, -62)
  line L42 (-30, -62) -> (-30, -37.5)
  line L43 (-30, -37.5) -> (-32, -37.5)
  line L44 (-32, -37.5) -> (-32, -62)
  line L45 (-54.2, -37.5) -> (-66.4, -37.5) projected
  line L46 (-66.4, -37.5) -> (-68.4, -37.5)
  line L47 (-68.4, -37.5) -> (-68.4, -62)
  line L48 (-68.4, -62) -> (-66.4, -62)
  line L49 (-66.4, -62) -> (-66.4, -37.5)
  line L50 (-68.4, -62) -> (-70.4, -62)
  line L51 (-70.4, -62) -> (-70.4, -37.5)
  line L52 (-70.4, -37.5) -> (-68.4, -37.5)
  line L53 (-68.4, -37.5) -> (-68.4, -62)
  line L54 (-70.4, -37.5) -> (-66.4, -37.5)
  line L55 (-66.4, -37.5) -> (-66.4, -39.5)
  line L56 (-66.4, -39.5) -> (-70.4, -39.5)
  line L57 (-70.4, -39.5) -> (-70.4, -37.5)
  line L58 (-66.4, -62) -> (-70.4, -62)
  line L59 (-70.4, -62) -> (-70.4, -60)
  line L60 (-70.4, -60) -> (-66.4, -60)
  line L61 (-66.4, -60) -> (-66.4, -62)
  line L62 (-34, -62) -> (-30, -62)
  line L63 (-30, -62) -> (-30, -60)
  line L64 (-30, -60) -> (-34, -60)
  line L65 (-34, -60) -> (-34, -62)
  line L66 (-34, -37.5) -> (-30, -37.5)
  line L67 (-30, -37.5) -> (-30, -39.5)
  line L68 (-30, -39.5) -> (-34, -39.5)
  line L69 (-34, -39.5) -> (-34, -37.5)
  line L70 (-143.6, -32) -> (-139.6, -32)
  line L71 (-139.6, -32) -> (-139.6, -30)
  line L72 (-139.6, -30) -> (-143.6, -30)
  line L73 (-143.6, -30) -> (-143.6, -32)
  line L74 (-143.6, -7.5) -> (-139.6, -7.5)
  line L75 (-139.6, -7.5) -> (-139.6, -9.5)
  line L76 (-139.6, -9.5) -> (-143.6, -9.5)
  line L77 (-143.6, -9.5) -> (-143.6, -7.5)
  line L78 (-143.6, 32) -> (-139.6, 32)
  line L79 (-139.6, 32) -> (-139.6, 30)
  line L80 (-139.6, 30) -> (-143.6, 30)
  line L81 (-143.6, 30) -> (-143.6, 32)
  line L82 (-139.6, 7.5) -> (-143.6, 7.5)
  line L83 (-143.6, 7.5) -> (-143.6, 9.5)
  line L84 (-143.6, 9.5) -> (-139.6, 9.5)
  line L85 (-139.6, 9.5) -> (-139.6, 7.5)
  line L86 (-70.4, 62) -> (-66.4, 62)
  line L87 (-66.4, 62) -> (-66.4, 60)
  line L88 (-66.4, 60) -> (-70.4, 60)
  line L89 (-70.4, 60) -> (-70.4, 62)
  line L90 (-66.4, 37.5) -> (-70.4, 37.5)
  line L91 (-70.4, 37.5) -> (-70.4, 39.5)
  line L92 (-70.4, 39.5) -> (-66.4, 39.5)
  line L93 (-66.4, 39.5) -> (-66.4, 37.5)
  line L94 (-34, 37.5) -> (-30, 37.5)
  line L95 (-30, 37.5) -> (-30, 39.5)
  line L96 (-30, 39.5) -> (-34, 39.5)
  line L97 (-34, 39.5) -> (-34, 37.5)
  line L98 (-34, 62) -> (-30, 62)
  line L99 (-30, 62) -> (-30, 60)
  line L100 (-30, 60) -> (-34, 60)
  line L101 (-34, 60) -> (-34, 62)
  point P0 (0, 0)
  point P1 (-31, -62)
  point P2 (-141.6, 9.5)
  point P3 (-141.6, 30)
  point P4 (-141.6, -9.5)
  point P5 (-141.6, -30)
  point P6 (-68.4, -60)
  point P7 (-68.4, -39.5)
  point P8 (-32, -39.5)
  point P9 (-32, -60)
  point P10 (-32, 60)
  point P11 (-32, 39.5)
  point P12 (-68.4, 39.5)
  point P13 (-68.4, 60)
  dimension "d64" = 2
  dimension "d65" = 2
  dimension "d66" = 2
  dimension "d67" = 2
  dimension "d68" = 2
  dimension "d69" = 2
  dimension "d70" = 2
  dimension "d71" = 2
  dimension "d72" = 2
  dimension "d73" = 2
  dimension "d74" = 2
  dimension "d75" = 2
  dimension "d76" = 2
  dimension "d77" = 2
  dimension "d78" = 2
  dimension "d79" = 2
  dimension "d80" = 2
  dimension "d81" = 2
  dimension "d82" = 2
  dimension "d83" = 2
  dimension "d84" = 2
  dimension "d85" = 2
  dimension "d86" = 2
extrude "Extrusion2" cut sketch "Sketch2" against normal blind 2 contours L76 L15 L72 L2 | L7 L80 L11 L84 | L20 L92 L33 L88 | L25 L100 L29 L96 | L68 L42 L64 L38 | L47 L60 L51 L56
sketch "Sketch3" plane through (0, 0, 0) normal (0, -1, 0) x (1, 0, 0)
  circle A0 centre (-73.4, -87) radius 2 projected
  circle A1 centre (-139.6, -87) radius 2 projected
  circle A2 centre (-177, -63) radius 2 projected
  circle A3 centre (-136.6, -32) radius 1.65 projected
  circle A4 centre (-136.6, 32) radius 1.65 projected
  circle A5 centre (-177, 63) radius 1.65 projected
  circle A6 centre (-139.6, 87) radius 2 projected
  circle A7 centre (-73.4, 87) radius 2 projected
  circle A8 centre (-73.4, 65) radius 1.65 projected
  circle A9 centre (-27, 65) radius 1.65 projected
  circle A10 centre (-27, -65) radius 1.65 projected
  circle A11 centre (-136.6, -60) radius 2 projected
  circle A12 centre (-136.6, 60) radius 2 projected
  point P0 (0, 0)
hole "Hole1" at (-27, 0, 65) at (-73.4, 0, 65) at (-73.4, 0, 87) at (-139.6, 0, 87) at (-136.6, 0, 60) at (-177, 0, 63) at (-136.6, 0, 32) at (-136.6, 0, -32) at (-177, 0, -63) at (-136.6, 0, -60) at (-139.6, 0, -87) at (-73.4, 0, -87) at (-27, 0, -65) direction (0, 1, 0) diameter 3 depth 2 countersink diameter 6 countersink angle 90
sketch "Sketch4" plane through (0, 2, 0) normal (0, 1, 0) x (1, 0, 0)
  line L0 (-14, -39.25) -> (-8, -39.25)
  line L1 (-8, -39.25) -> (-8, -20.75)
  line L2 (-8, -20.75) -> (-14, -20.75)
  line L3 (-14, -20.75) -> (-14, -39.25)
  line L4 (-14, 20.75) -> (-8, 20.75)
  line L5 (-8, 20.75) -> (-8, 39.25)
  line L6 (-8, 39.25) -> (-14, 39.25)
  line L7 (-14, 39.25) -> (-14, 20.75)
  line L8 (0, -90) -> (0, 90) projected
  line L9 (0, 90) -> (-30, 90) projected
  line L10 (-30, -90) -> (0, -90) projected
  point P0 (0, 0)
  point P1 (-8, 30)
  point P2 (-8, -30)
  dimension "d96" = 6
  dimension "d97" = 18.5
  dimension "d98" = 6
  dimension "d99" = 18.5
  dimension "d100" = 8
  dimension "d101" = 8
  dimension "d102" = 60
  dimension "d103" = 60
extrude "Extrusion3" cut sketch "Sketch4" against normal blind 10
sketch "Sketch7" plane through (0, 2, 0) normal (0, 1, 0) x (1, 0, 0)
  circle A0 centre (-3, -55.8) radius 1.65 projected
  circle A1 centre (-3, 55.8) radius 1.65 projected
  circle A2 centre (-3, 55.8) radius 1.25
  circle A3 centre (-3, -55.8) radius 1.25
  point P0 (0, 0)
  dimension "d122" = 2.5
  dimension "d123" = 2.5
extrude "Extrusion6" cut sketch "Sketch7" against normal blind 2 contours A2 | A3
thread "Thread5" size "M3x0.5" class "6H" standard "ANSI Metric M Profile" full length
thread "Thread6" size "M3x0.5" class "6H" standard "ANSI Metric M Profile" full length
properties part number "base2" material "Steel"
